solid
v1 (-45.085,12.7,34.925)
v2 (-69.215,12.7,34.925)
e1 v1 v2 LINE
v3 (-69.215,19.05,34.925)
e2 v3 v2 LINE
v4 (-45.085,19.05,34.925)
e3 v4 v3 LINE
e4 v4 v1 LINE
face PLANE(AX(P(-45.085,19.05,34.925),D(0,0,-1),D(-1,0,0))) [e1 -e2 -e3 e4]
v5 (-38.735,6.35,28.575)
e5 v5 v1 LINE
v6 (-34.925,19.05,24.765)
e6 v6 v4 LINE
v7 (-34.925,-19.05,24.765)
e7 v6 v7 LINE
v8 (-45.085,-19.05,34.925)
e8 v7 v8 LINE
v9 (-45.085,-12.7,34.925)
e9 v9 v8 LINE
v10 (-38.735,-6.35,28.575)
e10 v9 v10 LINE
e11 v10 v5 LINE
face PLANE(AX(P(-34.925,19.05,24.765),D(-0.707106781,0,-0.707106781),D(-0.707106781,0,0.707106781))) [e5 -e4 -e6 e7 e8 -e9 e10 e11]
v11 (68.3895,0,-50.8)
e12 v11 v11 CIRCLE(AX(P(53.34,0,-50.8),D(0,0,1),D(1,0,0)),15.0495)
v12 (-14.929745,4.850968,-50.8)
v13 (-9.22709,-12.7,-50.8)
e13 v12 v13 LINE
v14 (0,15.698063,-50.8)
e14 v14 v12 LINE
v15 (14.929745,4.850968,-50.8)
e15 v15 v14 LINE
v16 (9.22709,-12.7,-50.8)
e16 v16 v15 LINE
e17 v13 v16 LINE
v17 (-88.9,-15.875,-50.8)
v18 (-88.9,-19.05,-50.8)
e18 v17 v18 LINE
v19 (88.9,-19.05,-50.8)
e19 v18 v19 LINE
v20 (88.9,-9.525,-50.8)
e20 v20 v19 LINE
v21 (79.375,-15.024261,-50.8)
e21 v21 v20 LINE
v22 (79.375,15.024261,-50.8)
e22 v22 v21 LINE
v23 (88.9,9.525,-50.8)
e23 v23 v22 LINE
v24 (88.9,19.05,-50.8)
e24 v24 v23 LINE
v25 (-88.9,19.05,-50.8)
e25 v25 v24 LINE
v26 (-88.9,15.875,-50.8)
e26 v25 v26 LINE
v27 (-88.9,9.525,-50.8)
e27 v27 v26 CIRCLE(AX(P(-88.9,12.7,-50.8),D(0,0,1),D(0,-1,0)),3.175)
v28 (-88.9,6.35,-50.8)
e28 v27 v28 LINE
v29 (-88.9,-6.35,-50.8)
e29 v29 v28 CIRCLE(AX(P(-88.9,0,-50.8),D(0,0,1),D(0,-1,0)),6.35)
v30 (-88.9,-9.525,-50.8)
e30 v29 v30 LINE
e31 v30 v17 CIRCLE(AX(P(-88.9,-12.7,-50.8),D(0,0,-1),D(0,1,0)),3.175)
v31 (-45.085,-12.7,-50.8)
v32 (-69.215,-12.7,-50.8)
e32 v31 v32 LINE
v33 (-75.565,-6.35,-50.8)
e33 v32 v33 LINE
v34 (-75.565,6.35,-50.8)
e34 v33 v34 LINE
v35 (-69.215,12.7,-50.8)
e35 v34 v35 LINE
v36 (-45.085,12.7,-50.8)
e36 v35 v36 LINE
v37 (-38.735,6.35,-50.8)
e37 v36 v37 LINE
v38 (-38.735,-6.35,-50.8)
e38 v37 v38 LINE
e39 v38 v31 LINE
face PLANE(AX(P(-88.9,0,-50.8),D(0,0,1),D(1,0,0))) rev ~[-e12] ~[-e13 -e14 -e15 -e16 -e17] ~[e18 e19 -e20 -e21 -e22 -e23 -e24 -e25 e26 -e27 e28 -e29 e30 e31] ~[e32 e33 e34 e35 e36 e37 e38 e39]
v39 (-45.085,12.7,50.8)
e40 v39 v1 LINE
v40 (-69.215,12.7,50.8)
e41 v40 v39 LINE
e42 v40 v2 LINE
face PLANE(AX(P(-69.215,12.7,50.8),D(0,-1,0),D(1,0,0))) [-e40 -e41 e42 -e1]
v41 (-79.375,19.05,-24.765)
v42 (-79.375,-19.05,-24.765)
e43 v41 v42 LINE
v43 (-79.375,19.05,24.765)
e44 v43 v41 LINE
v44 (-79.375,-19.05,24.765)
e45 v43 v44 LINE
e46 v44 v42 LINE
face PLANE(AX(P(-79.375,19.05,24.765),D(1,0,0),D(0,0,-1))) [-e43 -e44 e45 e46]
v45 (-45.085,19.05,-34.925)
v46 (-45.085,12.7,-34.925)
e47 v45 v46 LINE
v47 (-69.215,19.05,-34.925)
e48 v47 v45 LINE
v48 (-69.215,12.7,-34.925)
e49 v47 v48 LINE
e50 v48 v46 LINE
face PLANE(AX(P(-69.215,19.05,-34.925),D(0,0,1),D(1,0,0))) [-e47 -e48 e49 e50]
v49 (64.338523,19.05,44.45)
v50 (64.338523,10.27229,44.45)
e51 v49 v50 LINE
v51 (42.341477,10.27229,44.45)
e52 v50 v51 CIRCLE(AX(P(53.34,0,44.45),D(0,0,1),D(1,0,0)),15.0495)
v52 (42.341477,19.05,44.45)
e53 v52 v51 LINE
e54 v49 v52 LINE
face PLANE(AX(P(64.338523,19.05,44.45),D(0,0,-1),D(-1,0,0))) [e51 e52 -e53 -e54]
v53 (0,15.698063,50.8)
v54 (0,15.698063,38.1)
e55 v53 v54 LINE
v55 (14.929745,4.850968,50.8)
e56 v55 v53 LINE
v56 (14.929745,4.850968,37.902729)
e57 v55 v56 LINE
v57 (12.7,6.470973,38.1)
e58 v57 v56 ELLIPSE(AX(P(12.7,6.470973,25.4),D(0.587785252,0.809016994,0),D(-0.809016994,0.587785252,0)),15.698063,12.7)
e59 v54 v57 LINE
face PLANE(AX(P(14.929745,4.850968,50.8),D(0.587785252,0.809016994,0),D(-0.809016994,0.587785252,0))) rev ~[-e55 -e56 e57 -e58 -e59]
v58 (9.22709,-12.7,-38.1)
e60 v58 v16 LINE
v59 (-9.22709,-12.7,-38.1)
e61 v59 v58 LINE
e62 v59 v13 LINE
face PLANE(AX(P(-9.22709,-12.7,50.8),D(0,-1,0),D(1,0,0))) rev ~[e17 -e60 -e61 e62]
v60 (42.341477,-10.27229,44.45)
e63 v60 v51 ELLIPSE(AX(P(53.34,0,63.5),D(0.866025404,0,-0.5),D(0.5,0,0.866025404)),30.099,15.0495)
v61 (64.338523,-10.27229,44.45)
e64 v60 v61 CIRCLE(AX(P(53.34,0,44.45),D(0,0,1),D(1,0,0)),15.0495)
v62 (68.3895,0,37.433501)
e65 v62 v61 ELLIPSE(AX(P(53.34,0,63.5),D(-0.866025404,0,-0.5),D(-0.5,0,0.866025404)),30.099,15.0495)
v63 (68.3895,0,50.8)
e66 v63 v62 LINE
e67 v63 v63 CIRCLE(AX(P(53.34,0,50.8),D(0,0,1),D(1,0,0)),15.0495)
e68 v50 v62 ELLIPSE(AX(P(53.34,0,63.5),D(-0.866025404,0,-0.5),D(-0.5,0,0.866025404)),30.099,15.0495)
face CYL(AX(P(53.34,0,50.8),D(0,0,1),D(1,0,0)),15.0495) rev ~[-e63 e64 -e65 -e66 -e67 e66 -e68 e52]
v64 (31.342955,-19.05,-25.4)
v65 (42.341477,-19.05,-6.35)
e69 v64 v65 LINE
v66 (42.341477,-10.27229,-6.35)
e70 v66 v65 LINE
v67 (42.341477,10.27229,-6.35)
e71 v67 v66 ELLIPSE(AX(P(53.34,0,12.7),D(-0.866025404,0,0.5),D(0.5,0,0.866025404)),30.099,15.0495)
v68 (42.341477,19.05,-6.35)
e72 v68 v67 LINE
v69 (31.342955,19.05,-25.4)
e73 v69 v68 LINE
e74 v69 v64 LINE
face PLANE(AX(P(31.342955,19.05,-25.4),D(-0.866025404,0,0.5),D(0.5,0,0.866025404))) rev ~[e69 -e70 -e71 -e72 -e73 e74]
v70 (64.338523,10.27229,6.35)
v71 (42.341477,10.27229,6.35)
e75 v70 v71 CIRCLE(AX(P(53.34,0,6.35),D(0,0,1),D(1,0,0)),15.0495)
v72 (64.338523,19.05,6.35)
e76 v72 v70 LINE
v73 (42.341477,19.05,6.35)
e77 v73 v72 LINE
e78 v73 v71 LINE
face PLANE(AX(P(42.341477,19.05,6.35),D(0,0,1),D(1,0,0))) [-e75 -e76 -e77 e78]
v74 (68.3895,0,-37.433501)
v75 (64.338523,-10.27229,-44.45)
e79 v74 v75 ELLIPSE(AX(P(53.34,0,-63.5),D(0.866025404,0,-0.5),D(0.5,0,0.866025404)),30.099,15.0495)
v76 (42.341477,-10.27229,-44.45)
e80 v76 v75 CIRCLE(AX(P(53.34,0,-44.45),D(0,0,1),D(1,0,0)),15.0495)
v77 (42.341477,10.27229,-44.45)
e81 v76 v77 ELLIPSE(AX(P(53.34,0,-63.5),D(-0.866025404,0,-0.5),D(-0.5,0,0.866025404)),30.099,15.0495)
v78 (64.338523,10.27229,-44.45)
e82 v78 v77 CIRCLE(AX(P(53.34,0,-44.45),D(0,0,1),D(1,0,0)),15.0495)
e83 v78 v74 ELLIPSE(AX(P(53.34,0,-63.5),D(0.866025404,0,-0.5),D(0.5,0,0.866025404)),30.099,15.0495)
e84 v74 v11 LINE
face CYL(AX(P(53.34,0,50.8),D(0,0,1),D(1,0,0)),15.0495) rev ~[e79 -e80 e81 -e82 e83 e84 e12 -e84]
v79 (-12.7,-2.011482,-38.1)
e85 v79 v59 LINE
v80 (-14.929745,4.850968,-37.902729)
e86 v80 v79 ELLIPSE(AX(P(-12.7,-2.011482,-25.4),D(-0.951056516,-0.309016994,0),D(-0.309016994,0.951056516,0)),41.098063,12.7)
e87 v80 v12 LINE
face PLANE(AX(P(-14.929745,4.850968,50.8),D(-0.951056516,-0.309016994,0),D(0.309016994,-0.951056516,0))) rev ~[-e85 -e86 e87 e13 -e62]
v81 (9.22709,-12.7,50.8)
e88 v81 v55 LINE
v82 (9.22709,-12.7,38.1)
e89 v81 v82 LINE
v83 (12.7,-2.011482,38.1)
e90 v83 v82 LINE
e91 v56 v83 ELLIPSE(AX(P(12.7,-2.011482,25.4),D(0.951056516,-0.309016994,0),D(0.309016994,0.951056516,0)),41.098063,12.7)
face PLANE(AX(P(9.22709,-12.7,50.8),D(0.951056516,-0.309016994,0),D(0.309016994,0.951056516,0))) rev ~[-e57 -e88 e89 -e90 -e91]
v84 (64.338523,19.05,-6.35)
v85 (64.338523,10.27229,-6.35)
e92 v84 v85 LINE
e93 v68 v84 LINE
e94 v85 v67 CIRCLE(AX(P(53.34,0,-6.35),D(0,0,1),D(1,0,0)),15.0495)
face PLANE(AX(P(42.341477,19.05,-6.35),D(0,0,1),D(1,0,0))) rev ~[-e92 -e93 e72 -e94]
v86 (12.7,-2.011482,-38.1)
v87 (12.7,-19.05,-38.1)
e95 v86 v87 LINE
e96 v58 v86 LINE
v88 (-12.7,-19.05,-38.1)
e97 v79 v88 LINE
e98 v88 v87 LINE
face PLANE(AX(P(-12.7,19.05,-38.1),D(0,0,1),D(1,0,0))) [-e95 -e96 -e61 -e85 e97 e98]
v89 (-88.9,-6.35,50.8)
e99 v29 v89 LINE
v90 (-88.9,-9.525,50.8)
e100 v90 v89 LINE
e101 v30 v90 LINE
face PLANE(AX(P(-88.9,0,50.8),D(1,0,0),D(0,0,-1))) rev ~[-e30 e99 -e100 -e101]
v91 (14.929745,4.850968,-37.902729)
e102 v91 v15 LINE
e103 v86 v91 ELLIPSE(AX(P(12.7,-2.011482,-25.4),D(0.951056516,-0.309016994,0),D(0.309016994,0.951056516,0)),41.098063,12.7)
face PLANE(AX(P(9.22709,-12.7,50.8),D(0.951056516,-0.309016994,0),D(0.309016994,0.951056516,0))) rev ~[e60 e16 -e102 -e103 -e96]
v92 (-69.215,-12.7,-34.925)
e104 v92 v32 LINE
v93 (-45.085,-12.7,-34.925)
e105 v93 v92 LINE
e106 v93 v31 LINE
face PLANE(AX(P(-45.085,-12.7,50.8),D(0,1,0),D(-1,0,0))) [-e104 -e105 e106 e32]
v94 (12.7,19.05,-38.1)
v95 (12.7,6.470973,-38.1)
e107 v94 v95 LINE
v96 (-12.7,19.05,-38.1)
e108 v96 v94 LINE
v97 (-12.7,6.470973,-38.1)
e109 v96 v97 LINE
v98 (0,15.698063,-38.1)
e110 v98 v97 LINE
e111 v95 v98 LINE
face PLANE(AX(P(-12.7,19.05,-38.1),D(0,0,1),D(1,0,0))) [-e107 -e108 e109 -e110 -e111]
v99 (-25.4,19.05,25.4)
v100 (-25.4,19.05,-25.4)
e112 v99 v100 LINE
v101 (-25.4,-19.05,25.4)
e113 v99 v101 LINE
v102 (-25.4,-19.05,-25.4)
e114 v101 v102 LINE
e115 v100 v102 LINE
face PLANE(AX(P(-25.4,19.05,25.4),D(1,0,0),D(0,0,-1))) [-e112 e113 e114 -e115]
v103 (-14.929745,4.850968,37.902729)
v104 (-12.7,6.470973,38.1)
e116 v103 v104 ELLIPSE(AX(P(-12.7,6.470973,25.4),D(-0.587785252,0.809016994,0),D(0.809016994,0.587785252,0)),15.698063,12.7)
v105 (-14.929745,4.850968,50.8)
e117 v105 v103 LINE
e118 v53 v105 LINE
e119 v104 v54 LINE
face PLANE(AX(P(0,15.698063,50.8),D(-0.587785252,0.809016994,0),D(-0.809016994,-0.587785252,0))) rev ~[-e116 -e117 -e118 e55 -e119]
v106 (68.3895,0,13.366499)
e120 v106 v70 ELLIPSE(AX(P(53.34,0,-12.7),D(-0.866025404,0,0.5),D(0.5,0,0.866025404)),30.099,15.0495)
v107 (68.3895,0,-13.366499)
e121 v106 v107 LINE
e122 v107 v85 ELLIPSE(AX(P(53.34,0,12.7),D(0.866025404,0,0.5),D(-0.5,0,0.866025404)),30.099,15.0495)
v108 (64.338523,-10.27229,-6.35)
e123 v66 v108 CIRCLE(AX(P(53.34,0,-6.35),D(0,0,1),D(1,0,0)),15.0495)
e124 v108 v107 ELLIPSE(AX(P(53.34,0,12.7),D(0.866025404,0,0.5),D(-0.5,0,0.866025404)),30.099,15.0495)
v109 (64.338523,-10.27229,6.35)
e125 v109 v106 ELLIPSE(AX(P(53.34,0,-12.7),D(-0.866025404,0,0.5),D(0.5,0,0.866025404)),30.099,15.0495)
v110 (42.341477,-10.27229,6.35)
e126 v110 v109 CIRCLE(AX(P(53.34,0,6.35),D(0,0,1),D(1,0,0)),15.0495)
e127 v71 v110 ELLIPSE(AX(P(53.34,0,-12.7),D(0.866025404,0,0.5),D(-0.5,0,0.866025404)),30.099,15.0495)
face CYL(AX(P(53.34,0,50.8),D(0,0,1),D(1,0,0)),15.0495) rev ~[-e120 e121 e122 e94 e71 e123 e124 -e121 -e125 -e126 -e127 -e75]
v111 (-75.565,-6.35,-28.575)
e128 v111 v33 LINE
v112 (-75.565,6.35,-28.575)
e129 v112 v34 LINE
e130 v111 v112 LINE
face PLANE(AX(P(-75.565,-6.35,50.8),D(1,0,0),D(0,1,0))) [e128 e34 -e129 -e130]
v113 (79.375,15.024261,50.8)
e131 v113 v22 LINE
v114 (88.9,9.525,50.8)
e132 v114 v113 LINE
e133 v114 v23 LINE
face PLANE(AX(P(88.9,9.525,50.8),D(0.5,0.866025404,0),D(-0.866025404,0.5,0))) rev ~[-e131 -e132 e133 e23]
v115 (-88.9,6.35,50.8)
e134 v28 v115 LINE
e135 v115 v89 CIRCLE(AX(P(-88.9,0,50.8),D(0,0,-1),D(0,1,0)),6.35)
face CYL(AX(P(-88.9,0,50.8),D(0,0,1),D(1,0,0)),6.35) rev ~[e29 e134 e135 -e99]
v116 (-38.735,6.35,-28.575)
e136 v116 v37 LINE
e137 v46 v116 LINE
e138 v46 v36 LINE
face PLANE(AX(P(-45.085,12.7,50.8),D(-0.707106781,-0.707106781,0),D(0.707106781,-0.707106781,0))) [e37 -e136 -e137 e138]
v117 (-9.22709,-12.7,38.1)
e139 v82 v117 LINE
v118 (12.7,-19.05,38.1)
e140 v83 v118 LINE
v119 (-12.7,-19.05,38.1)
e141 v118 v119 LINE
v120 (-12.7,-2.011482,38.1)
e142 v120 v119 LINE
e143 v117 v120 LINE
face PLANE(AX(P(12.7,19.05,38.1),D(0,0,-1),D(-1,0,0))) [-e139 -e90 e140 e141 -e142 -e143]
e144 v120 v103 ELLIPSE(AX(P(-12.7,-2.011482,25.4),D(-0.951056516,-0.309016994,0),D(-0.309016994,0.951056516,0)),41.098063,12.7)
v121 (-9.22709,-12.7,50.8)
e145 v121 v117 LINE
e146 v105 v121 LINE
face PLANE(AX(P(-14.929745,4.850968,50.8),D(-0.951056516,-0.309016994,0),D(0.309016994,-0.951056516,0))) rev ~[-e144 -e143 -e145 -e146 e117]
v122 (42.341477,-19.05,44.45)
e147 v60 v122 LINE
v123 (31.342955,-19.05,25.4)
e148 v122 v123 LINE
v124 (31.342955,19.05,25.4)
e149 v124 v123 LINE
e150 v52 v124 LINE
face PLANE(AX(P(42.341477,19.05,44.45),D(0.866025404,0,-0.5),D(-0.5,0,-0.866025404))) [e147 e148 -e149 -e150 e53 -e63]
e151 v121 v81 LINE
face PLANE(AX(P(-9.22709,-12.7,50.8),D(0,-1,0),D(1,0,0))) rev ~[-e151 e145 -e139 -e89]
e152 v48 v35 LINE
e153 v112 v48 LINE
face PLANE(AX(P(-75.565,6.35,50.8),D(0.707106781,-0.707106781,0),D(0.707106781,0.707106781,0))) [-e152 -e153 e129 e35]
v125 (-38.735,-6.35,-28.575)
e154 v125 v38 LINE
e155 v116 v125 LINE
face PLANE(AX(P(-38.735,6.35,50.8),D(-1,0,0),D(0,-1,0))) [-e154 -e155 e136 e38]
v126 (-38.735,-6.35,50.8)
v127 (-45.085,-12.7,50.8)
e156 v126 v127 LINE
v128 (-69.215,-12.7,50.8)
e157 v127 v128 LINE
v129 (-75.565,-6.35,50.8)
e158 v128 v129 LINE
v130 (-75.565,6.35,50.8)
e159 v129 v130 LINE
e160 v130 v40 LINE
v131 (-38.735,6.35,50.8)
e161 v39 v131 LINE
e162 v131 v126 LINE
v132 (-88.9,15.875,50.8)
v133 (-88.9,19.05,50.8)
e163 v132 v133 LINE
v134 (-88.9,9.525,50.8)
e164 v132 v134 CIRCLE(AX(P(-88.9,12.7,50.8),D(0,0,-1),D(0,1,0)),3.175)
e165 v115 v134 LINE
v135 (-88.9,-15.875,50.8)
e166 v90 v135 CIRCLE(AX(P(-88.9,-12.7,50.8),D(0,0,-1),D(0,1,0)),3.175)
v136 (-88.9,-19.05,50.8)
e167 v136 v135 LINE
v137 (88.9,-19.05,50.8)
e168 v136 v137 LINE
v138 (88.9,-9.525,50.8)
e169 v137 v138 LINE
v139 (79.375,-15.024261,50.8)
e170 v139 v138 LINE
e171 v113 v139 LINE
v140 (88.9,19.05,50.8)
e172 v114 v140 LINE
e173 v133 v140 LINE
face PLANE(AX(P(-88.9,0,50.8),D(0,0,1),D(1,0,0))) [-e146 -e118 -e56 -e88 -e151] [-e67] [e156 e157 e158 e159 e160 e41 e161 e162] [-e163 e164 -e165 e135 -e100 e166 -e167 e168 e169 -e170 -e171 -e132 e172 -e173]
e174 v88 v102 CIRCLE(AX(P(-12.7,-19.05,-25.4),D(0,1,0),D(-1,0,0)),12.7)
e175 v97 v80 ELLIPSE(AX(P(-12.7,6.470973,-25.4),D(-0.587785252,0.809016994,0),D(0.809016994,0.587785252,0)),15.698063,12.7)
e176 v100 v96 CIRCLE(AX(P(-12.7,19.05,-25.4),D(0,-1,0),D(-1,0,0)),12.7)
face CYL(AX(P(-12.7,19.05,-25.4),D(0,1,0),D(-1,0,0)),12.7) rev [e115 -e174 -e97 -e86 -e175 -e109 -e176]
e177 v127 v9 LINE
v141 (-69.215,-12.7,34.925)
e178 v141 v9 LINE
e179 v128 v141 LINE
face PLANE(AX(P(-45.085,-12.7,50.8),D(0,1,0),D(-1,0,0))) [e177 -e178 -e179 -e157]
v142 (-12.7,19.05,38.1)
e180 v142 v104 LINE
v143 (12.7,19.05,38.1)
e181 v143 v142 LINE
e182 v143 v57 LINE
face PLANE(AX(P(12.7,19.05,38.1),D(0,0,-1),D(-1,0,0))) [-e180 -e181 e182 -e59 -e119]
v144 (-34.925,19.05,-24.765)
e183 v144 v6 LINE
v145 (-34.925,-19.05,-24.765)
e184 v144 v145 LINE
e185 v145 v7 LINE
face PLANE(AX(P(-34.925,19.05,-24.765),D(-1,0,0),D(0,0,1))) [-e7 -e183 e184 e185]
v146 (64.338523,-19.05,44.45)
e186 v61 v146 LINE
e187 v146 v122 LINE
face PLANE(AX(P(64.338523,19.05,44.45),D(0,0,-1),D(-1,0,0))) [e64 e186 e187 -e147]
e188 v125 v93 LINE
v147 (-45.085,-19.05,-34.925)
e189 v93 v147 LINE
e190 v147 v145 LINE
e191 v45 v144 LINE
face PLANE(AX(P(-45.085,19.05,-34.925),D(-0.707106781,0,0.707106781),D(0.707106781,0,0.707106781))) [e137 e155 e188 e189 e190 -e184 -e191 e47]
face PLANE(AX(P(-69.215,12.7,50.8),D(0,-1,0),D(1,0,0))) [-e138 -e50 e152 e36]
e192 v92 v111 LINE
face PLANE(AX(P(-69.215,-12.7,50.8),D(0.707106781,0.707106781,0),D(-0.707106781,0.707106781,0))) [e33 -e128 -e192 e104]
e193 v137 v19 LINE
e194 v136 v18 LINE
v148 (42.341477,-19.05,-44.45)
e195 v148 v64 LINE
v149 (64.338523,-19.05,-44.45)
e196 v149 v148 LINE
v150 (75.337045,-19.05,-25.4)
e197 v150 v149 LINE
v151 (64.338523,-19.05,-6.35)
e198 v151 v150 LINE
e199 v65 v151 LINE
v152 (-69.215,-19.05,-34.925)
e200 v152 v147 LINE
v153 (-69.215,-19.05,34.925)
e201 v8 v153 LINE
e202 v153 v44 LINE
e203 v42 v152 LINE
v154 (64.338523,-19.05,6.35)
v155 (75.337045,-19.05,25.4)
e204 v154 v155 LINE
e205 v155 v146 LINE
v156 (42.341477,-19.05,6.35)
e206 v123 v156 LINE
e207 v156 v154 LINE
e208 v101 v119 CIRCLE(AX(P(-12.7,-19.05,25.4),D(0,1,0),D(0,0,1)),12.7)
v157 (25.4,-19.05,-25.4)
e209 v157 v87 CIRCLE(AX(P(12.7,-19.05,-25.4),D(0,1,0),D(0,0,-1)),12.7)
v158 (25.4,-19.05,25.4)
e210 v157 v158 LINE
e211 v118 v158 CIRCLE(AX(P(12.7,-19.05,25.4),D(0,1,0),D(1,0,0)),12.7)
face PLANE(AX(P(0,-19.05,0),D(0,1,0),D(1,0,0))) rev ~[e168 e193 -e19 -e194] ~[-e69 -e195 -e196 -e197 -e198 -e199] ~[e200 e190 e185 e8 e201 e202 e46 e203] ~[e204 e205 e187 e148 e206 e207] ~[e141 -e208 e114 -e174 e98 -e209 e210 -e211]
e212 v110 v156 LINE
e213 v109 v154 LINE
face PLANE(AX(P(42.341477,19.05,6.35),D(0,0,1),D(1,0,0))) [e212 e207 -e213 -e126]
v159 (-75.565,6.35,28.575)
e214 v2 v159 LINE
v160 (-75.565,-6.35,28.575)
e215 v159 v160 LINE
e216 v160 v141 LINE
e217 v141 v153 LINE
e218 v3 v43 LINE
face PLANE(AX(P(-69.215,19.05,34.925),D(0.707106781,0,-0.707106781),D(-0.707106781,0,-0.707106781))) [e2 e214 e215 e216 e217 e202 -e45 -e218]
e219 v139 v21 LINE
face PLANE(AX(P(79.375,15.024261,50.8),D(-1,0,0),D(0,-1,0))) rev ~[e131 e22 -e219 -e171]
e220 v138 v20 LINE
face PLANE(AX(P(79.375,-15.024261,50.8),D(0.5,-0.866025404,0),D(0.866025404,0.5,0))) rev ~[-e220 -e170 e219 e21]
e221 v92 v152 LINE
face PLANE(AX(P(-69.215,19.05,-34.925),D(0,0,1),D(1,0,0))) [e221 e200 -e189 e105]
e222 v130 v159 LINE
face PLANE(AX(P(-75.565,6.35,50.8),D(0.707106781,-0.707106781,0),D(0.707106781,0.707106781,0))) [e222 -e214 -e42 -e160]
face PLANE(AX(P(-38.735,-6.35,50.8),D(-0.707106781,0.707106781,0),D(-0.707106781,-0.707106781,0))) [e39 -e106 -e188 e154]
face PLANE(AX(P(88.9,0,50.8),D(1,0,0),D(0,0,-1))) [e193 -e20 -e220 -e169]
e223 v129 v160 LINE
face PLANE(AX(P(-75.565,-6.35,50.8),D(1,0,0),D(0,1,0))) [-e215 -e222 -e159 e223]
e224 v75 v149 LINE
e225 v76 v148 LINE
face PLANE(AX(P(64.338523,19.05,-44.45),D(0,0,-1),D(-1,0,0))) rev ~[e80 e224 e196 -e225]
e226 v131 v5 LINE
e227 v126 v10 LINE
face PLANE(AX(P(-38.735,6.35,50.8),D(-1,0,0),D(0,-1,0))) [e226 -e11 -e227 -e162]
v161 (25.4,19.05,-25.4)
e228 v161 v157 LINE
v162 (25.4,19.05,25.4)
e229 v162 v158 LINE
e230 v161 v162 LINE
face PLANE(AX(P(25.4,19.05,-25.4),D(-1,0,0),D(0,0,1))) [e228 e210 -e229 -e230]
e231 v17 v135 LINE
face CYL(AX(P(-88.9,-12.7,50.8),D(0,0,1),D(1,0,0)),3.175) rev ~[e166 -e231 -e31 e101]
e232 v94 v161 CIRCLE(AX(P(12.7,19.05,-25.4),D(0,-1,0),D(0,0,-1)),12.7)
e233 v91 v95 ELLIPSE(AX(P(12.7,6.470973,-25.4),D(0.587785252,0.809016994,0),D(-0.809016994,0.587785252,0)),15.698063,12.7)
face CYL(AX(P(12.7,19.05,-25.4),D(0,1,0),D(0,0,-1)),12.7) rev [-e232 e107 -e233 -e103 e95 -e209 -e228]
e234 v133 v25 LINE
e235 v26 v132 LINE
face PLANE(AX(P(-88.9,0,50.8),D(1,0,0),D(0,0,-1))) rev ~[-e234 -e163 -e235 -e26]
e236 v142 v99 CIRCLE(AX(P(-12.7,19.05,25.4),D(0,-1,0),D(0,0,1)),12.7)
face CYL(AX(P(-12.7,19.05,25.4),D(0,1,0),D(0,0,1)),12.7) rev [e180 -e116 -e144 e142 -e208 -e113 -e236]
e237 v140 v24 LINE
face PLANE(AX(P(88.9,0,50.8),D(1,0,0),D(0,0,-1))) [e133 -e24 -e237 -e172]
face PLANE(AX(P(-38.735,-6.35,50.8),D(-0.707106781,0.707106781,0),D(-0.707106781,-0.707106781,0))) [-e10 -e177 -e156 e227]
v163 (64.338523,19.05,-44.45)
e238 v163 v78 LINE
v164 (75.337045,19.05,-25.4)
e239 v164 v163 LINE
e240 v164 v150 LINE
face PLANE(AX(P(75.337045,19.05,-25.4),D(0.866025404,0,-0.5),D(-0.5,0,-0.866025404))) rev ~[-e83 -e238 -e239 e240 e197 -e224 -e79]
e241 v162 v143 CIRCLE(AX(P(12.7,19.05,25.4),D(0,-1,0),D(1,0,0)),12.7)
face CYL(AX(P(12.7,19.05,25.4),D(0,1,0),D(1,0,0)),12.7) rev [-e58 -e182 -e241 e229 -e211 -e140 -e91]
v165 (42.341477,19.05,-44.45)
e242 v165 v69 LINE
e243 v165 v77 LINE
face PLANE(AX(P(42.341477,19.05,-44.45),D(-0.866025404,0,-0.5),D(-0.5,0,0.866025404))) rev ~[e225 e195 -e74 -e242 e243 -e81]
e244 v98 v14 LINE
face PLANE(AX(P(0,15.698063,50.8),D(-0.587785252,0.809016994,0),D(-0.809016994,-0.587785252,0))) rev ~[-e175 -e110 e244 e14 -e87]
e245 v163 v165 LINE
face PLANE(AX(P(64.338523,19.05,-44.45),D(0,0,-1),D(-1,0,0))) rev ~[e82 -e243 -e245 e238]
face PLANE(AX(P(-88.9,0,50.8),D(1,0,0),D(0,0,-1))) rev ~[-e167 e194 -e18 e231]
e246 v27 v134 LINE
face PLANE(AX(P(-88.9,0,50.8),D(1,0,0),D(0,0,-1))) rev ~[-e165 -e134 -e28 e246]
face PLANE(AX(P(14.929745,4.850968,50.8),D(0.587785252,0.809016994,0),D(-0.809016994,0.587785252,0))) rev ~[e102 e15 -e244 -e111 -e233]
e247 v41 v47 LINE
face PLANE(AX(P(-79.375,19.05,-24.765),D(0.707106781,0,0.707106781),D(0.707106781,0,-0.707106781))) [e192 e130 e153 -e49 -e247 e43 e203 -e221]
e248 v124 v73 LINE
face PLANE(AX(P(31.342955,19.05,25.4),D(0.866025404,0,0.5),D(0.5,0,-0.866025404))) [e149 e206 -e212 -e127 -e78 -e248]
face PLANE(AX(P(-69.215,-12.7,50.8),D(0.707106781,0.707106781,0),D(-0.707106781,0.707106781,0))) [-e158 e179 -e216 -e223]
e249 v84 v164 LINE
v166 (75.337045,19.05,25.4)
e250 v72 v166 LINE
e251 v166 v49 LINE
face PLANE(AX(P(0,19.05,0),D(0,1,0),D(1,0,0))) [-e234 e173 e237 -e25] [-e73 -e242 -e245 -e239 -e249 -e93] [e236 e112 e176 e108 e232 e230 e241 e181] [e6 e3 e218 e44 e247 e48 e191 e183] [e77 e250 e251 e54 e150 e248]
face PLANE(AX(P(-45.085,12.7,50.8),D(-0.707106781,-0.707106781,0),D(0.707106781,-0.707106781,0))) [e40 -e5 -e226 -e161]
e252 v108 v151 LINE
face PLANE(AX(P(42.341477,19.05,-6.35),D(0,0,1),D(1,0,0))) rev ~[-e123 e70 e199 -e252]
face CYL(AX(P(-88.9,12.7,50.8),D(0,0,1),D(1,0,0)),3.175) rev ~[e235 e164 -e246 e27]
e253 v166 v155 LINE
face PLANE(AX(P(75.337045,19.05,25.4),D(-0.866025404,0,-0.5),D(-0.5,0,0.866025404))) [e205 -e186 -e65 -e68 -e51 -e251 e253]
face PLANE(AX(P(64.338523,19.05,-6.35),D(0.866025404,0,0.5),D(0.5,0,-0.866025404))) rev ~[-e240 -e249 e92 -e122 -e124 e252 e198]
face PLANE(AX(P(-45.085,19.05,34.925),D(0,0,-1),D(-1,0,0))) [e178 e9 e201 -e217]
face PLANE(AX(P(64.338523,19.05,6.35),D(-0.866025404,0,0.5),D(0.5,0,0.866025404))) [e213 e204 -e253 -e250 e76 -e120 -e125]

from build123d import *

# Parameters (mm, degrees)
SKETCH1_W           = 177.8
SKETCH1_H           = 101.6
BOSS_EXTRUDE1_DEPTH = 19.05
CUT_EXTRUDE1_DEPTH  = 39.1
SKETCH3_R           = 3.175
SKETCH3_R_2         = 6.35
SKETCH3_R_3         = 15.0495
CUT_EXTRUDE2_DEPTH  = 102.6


with BuildPart() as part:
    # Sketch1 → Boss-Extrude1 (new body, symmetric)
    with BuildSketch(Plane(origin=(0, 0, 0), x_dir=(1, 0, 0), z_dir=(0, 1, 0))):
        Rectangle(SKETCH1_W, SKETCH1_H)
    extrude(amount=BOSS_EXTRUDE1_DEPTH, both=True)

    # Sketch2 → Cut-Extrude1 (cut, through all)
    with BuildSketch(Plane(origin=(0, 19.05, 0), x_dir=(1, 0, 0), z_dir=(0, 1, 0))):
        Polygon((-79.375, 24.765), (-69.215, 34.925), (-45.085, 34.925), (-34.925, 24.765), (-34.925, -24.765), (-45.085, -34.925), (-69.215, -34.925), (-79.375, -24.765), align=None)
        with BuildLine():
            Line((-12.7, 38.1), (12.7, 38.1))
            ThreePointArc((12.7, 38.1), (21.680256121, 34.380256121), (25.4, 25.4))
            Line((25.4, 25.4), (25.4, -25.4))
            ThreePointArc((25.4, -25.4), (21.680256121, -34.380256121), (12.7, -38.1))
            Line((12.7, -38.1), (-12.7, -38.1))
            ThreePointArc((-12.7, -38.1), (-21.680256121, -34.380256121), (-25.4, -25.4))
            Line((-25.4, -25.4), (-25.4, 25.4))
            ThreePointArc((-25.4, 25.4), (-21.680256121, 34.380256121), (-12.7, 38.1))
        make_face()
        Polygon((64.338522628, 6.35), (75.337045256, 25.4), (64.338522628, 44.45), (42.341477372, 44.45), (31.342954744, 25.4), (42.341477372, 6.35), align=None)
        Polygon((42.341477372, -6.35), (64.338522628, -6.35), (75.337045256, -25.4), (64.338522628, -44.45), (42.341477372, -44.45), (31.342954744, -25.4), align=None)
    extrude(amount=-CUT_EXTRUDE1_DEPTH, mode=Mode.SUBTRACT)

    # Sketch3 → Cut-Extrude2 (cut, through all)
    with BuildSketch(Plane.XY.offset(50.8)):
        with Locations((-88.9, 12.7)):
            Circle(SKETCH3_R)
        with Locations((-88.9, 0)):
            Circle(SKETCH3_R_2)
        with Locations((-88.9, -12.7)):
            Circle(SKETCH3_R)
        with Locations((53.34, 0)):
            Circle(SKETCH3_R_3)
        Polygon((-75.565, 6.35), (-69.215, 12.7), (-45.085, 12.7), (-38.735, 6.35), (-38.735, -6.35), (-45.085, -12.7), (-69.215, -12.7), (-75.565, -6.35), align=None)
        Polygon((9.227090106, -12.7), (14.929745408, 4.850968343), (0, 15.698063314), (-14.929745408, 4.850968343), (-9.227090106, -12.7), align=None)
        Polygon((88.9, 9.525), (79.375, 15.024261314), (79.375, -15.024261314), (88.9, -9.525), align=None)
    extrude(amount=-CUT_EXTRUDE2_DEPTH, mode=Mode.SUBTRACT)


solid = part.part
